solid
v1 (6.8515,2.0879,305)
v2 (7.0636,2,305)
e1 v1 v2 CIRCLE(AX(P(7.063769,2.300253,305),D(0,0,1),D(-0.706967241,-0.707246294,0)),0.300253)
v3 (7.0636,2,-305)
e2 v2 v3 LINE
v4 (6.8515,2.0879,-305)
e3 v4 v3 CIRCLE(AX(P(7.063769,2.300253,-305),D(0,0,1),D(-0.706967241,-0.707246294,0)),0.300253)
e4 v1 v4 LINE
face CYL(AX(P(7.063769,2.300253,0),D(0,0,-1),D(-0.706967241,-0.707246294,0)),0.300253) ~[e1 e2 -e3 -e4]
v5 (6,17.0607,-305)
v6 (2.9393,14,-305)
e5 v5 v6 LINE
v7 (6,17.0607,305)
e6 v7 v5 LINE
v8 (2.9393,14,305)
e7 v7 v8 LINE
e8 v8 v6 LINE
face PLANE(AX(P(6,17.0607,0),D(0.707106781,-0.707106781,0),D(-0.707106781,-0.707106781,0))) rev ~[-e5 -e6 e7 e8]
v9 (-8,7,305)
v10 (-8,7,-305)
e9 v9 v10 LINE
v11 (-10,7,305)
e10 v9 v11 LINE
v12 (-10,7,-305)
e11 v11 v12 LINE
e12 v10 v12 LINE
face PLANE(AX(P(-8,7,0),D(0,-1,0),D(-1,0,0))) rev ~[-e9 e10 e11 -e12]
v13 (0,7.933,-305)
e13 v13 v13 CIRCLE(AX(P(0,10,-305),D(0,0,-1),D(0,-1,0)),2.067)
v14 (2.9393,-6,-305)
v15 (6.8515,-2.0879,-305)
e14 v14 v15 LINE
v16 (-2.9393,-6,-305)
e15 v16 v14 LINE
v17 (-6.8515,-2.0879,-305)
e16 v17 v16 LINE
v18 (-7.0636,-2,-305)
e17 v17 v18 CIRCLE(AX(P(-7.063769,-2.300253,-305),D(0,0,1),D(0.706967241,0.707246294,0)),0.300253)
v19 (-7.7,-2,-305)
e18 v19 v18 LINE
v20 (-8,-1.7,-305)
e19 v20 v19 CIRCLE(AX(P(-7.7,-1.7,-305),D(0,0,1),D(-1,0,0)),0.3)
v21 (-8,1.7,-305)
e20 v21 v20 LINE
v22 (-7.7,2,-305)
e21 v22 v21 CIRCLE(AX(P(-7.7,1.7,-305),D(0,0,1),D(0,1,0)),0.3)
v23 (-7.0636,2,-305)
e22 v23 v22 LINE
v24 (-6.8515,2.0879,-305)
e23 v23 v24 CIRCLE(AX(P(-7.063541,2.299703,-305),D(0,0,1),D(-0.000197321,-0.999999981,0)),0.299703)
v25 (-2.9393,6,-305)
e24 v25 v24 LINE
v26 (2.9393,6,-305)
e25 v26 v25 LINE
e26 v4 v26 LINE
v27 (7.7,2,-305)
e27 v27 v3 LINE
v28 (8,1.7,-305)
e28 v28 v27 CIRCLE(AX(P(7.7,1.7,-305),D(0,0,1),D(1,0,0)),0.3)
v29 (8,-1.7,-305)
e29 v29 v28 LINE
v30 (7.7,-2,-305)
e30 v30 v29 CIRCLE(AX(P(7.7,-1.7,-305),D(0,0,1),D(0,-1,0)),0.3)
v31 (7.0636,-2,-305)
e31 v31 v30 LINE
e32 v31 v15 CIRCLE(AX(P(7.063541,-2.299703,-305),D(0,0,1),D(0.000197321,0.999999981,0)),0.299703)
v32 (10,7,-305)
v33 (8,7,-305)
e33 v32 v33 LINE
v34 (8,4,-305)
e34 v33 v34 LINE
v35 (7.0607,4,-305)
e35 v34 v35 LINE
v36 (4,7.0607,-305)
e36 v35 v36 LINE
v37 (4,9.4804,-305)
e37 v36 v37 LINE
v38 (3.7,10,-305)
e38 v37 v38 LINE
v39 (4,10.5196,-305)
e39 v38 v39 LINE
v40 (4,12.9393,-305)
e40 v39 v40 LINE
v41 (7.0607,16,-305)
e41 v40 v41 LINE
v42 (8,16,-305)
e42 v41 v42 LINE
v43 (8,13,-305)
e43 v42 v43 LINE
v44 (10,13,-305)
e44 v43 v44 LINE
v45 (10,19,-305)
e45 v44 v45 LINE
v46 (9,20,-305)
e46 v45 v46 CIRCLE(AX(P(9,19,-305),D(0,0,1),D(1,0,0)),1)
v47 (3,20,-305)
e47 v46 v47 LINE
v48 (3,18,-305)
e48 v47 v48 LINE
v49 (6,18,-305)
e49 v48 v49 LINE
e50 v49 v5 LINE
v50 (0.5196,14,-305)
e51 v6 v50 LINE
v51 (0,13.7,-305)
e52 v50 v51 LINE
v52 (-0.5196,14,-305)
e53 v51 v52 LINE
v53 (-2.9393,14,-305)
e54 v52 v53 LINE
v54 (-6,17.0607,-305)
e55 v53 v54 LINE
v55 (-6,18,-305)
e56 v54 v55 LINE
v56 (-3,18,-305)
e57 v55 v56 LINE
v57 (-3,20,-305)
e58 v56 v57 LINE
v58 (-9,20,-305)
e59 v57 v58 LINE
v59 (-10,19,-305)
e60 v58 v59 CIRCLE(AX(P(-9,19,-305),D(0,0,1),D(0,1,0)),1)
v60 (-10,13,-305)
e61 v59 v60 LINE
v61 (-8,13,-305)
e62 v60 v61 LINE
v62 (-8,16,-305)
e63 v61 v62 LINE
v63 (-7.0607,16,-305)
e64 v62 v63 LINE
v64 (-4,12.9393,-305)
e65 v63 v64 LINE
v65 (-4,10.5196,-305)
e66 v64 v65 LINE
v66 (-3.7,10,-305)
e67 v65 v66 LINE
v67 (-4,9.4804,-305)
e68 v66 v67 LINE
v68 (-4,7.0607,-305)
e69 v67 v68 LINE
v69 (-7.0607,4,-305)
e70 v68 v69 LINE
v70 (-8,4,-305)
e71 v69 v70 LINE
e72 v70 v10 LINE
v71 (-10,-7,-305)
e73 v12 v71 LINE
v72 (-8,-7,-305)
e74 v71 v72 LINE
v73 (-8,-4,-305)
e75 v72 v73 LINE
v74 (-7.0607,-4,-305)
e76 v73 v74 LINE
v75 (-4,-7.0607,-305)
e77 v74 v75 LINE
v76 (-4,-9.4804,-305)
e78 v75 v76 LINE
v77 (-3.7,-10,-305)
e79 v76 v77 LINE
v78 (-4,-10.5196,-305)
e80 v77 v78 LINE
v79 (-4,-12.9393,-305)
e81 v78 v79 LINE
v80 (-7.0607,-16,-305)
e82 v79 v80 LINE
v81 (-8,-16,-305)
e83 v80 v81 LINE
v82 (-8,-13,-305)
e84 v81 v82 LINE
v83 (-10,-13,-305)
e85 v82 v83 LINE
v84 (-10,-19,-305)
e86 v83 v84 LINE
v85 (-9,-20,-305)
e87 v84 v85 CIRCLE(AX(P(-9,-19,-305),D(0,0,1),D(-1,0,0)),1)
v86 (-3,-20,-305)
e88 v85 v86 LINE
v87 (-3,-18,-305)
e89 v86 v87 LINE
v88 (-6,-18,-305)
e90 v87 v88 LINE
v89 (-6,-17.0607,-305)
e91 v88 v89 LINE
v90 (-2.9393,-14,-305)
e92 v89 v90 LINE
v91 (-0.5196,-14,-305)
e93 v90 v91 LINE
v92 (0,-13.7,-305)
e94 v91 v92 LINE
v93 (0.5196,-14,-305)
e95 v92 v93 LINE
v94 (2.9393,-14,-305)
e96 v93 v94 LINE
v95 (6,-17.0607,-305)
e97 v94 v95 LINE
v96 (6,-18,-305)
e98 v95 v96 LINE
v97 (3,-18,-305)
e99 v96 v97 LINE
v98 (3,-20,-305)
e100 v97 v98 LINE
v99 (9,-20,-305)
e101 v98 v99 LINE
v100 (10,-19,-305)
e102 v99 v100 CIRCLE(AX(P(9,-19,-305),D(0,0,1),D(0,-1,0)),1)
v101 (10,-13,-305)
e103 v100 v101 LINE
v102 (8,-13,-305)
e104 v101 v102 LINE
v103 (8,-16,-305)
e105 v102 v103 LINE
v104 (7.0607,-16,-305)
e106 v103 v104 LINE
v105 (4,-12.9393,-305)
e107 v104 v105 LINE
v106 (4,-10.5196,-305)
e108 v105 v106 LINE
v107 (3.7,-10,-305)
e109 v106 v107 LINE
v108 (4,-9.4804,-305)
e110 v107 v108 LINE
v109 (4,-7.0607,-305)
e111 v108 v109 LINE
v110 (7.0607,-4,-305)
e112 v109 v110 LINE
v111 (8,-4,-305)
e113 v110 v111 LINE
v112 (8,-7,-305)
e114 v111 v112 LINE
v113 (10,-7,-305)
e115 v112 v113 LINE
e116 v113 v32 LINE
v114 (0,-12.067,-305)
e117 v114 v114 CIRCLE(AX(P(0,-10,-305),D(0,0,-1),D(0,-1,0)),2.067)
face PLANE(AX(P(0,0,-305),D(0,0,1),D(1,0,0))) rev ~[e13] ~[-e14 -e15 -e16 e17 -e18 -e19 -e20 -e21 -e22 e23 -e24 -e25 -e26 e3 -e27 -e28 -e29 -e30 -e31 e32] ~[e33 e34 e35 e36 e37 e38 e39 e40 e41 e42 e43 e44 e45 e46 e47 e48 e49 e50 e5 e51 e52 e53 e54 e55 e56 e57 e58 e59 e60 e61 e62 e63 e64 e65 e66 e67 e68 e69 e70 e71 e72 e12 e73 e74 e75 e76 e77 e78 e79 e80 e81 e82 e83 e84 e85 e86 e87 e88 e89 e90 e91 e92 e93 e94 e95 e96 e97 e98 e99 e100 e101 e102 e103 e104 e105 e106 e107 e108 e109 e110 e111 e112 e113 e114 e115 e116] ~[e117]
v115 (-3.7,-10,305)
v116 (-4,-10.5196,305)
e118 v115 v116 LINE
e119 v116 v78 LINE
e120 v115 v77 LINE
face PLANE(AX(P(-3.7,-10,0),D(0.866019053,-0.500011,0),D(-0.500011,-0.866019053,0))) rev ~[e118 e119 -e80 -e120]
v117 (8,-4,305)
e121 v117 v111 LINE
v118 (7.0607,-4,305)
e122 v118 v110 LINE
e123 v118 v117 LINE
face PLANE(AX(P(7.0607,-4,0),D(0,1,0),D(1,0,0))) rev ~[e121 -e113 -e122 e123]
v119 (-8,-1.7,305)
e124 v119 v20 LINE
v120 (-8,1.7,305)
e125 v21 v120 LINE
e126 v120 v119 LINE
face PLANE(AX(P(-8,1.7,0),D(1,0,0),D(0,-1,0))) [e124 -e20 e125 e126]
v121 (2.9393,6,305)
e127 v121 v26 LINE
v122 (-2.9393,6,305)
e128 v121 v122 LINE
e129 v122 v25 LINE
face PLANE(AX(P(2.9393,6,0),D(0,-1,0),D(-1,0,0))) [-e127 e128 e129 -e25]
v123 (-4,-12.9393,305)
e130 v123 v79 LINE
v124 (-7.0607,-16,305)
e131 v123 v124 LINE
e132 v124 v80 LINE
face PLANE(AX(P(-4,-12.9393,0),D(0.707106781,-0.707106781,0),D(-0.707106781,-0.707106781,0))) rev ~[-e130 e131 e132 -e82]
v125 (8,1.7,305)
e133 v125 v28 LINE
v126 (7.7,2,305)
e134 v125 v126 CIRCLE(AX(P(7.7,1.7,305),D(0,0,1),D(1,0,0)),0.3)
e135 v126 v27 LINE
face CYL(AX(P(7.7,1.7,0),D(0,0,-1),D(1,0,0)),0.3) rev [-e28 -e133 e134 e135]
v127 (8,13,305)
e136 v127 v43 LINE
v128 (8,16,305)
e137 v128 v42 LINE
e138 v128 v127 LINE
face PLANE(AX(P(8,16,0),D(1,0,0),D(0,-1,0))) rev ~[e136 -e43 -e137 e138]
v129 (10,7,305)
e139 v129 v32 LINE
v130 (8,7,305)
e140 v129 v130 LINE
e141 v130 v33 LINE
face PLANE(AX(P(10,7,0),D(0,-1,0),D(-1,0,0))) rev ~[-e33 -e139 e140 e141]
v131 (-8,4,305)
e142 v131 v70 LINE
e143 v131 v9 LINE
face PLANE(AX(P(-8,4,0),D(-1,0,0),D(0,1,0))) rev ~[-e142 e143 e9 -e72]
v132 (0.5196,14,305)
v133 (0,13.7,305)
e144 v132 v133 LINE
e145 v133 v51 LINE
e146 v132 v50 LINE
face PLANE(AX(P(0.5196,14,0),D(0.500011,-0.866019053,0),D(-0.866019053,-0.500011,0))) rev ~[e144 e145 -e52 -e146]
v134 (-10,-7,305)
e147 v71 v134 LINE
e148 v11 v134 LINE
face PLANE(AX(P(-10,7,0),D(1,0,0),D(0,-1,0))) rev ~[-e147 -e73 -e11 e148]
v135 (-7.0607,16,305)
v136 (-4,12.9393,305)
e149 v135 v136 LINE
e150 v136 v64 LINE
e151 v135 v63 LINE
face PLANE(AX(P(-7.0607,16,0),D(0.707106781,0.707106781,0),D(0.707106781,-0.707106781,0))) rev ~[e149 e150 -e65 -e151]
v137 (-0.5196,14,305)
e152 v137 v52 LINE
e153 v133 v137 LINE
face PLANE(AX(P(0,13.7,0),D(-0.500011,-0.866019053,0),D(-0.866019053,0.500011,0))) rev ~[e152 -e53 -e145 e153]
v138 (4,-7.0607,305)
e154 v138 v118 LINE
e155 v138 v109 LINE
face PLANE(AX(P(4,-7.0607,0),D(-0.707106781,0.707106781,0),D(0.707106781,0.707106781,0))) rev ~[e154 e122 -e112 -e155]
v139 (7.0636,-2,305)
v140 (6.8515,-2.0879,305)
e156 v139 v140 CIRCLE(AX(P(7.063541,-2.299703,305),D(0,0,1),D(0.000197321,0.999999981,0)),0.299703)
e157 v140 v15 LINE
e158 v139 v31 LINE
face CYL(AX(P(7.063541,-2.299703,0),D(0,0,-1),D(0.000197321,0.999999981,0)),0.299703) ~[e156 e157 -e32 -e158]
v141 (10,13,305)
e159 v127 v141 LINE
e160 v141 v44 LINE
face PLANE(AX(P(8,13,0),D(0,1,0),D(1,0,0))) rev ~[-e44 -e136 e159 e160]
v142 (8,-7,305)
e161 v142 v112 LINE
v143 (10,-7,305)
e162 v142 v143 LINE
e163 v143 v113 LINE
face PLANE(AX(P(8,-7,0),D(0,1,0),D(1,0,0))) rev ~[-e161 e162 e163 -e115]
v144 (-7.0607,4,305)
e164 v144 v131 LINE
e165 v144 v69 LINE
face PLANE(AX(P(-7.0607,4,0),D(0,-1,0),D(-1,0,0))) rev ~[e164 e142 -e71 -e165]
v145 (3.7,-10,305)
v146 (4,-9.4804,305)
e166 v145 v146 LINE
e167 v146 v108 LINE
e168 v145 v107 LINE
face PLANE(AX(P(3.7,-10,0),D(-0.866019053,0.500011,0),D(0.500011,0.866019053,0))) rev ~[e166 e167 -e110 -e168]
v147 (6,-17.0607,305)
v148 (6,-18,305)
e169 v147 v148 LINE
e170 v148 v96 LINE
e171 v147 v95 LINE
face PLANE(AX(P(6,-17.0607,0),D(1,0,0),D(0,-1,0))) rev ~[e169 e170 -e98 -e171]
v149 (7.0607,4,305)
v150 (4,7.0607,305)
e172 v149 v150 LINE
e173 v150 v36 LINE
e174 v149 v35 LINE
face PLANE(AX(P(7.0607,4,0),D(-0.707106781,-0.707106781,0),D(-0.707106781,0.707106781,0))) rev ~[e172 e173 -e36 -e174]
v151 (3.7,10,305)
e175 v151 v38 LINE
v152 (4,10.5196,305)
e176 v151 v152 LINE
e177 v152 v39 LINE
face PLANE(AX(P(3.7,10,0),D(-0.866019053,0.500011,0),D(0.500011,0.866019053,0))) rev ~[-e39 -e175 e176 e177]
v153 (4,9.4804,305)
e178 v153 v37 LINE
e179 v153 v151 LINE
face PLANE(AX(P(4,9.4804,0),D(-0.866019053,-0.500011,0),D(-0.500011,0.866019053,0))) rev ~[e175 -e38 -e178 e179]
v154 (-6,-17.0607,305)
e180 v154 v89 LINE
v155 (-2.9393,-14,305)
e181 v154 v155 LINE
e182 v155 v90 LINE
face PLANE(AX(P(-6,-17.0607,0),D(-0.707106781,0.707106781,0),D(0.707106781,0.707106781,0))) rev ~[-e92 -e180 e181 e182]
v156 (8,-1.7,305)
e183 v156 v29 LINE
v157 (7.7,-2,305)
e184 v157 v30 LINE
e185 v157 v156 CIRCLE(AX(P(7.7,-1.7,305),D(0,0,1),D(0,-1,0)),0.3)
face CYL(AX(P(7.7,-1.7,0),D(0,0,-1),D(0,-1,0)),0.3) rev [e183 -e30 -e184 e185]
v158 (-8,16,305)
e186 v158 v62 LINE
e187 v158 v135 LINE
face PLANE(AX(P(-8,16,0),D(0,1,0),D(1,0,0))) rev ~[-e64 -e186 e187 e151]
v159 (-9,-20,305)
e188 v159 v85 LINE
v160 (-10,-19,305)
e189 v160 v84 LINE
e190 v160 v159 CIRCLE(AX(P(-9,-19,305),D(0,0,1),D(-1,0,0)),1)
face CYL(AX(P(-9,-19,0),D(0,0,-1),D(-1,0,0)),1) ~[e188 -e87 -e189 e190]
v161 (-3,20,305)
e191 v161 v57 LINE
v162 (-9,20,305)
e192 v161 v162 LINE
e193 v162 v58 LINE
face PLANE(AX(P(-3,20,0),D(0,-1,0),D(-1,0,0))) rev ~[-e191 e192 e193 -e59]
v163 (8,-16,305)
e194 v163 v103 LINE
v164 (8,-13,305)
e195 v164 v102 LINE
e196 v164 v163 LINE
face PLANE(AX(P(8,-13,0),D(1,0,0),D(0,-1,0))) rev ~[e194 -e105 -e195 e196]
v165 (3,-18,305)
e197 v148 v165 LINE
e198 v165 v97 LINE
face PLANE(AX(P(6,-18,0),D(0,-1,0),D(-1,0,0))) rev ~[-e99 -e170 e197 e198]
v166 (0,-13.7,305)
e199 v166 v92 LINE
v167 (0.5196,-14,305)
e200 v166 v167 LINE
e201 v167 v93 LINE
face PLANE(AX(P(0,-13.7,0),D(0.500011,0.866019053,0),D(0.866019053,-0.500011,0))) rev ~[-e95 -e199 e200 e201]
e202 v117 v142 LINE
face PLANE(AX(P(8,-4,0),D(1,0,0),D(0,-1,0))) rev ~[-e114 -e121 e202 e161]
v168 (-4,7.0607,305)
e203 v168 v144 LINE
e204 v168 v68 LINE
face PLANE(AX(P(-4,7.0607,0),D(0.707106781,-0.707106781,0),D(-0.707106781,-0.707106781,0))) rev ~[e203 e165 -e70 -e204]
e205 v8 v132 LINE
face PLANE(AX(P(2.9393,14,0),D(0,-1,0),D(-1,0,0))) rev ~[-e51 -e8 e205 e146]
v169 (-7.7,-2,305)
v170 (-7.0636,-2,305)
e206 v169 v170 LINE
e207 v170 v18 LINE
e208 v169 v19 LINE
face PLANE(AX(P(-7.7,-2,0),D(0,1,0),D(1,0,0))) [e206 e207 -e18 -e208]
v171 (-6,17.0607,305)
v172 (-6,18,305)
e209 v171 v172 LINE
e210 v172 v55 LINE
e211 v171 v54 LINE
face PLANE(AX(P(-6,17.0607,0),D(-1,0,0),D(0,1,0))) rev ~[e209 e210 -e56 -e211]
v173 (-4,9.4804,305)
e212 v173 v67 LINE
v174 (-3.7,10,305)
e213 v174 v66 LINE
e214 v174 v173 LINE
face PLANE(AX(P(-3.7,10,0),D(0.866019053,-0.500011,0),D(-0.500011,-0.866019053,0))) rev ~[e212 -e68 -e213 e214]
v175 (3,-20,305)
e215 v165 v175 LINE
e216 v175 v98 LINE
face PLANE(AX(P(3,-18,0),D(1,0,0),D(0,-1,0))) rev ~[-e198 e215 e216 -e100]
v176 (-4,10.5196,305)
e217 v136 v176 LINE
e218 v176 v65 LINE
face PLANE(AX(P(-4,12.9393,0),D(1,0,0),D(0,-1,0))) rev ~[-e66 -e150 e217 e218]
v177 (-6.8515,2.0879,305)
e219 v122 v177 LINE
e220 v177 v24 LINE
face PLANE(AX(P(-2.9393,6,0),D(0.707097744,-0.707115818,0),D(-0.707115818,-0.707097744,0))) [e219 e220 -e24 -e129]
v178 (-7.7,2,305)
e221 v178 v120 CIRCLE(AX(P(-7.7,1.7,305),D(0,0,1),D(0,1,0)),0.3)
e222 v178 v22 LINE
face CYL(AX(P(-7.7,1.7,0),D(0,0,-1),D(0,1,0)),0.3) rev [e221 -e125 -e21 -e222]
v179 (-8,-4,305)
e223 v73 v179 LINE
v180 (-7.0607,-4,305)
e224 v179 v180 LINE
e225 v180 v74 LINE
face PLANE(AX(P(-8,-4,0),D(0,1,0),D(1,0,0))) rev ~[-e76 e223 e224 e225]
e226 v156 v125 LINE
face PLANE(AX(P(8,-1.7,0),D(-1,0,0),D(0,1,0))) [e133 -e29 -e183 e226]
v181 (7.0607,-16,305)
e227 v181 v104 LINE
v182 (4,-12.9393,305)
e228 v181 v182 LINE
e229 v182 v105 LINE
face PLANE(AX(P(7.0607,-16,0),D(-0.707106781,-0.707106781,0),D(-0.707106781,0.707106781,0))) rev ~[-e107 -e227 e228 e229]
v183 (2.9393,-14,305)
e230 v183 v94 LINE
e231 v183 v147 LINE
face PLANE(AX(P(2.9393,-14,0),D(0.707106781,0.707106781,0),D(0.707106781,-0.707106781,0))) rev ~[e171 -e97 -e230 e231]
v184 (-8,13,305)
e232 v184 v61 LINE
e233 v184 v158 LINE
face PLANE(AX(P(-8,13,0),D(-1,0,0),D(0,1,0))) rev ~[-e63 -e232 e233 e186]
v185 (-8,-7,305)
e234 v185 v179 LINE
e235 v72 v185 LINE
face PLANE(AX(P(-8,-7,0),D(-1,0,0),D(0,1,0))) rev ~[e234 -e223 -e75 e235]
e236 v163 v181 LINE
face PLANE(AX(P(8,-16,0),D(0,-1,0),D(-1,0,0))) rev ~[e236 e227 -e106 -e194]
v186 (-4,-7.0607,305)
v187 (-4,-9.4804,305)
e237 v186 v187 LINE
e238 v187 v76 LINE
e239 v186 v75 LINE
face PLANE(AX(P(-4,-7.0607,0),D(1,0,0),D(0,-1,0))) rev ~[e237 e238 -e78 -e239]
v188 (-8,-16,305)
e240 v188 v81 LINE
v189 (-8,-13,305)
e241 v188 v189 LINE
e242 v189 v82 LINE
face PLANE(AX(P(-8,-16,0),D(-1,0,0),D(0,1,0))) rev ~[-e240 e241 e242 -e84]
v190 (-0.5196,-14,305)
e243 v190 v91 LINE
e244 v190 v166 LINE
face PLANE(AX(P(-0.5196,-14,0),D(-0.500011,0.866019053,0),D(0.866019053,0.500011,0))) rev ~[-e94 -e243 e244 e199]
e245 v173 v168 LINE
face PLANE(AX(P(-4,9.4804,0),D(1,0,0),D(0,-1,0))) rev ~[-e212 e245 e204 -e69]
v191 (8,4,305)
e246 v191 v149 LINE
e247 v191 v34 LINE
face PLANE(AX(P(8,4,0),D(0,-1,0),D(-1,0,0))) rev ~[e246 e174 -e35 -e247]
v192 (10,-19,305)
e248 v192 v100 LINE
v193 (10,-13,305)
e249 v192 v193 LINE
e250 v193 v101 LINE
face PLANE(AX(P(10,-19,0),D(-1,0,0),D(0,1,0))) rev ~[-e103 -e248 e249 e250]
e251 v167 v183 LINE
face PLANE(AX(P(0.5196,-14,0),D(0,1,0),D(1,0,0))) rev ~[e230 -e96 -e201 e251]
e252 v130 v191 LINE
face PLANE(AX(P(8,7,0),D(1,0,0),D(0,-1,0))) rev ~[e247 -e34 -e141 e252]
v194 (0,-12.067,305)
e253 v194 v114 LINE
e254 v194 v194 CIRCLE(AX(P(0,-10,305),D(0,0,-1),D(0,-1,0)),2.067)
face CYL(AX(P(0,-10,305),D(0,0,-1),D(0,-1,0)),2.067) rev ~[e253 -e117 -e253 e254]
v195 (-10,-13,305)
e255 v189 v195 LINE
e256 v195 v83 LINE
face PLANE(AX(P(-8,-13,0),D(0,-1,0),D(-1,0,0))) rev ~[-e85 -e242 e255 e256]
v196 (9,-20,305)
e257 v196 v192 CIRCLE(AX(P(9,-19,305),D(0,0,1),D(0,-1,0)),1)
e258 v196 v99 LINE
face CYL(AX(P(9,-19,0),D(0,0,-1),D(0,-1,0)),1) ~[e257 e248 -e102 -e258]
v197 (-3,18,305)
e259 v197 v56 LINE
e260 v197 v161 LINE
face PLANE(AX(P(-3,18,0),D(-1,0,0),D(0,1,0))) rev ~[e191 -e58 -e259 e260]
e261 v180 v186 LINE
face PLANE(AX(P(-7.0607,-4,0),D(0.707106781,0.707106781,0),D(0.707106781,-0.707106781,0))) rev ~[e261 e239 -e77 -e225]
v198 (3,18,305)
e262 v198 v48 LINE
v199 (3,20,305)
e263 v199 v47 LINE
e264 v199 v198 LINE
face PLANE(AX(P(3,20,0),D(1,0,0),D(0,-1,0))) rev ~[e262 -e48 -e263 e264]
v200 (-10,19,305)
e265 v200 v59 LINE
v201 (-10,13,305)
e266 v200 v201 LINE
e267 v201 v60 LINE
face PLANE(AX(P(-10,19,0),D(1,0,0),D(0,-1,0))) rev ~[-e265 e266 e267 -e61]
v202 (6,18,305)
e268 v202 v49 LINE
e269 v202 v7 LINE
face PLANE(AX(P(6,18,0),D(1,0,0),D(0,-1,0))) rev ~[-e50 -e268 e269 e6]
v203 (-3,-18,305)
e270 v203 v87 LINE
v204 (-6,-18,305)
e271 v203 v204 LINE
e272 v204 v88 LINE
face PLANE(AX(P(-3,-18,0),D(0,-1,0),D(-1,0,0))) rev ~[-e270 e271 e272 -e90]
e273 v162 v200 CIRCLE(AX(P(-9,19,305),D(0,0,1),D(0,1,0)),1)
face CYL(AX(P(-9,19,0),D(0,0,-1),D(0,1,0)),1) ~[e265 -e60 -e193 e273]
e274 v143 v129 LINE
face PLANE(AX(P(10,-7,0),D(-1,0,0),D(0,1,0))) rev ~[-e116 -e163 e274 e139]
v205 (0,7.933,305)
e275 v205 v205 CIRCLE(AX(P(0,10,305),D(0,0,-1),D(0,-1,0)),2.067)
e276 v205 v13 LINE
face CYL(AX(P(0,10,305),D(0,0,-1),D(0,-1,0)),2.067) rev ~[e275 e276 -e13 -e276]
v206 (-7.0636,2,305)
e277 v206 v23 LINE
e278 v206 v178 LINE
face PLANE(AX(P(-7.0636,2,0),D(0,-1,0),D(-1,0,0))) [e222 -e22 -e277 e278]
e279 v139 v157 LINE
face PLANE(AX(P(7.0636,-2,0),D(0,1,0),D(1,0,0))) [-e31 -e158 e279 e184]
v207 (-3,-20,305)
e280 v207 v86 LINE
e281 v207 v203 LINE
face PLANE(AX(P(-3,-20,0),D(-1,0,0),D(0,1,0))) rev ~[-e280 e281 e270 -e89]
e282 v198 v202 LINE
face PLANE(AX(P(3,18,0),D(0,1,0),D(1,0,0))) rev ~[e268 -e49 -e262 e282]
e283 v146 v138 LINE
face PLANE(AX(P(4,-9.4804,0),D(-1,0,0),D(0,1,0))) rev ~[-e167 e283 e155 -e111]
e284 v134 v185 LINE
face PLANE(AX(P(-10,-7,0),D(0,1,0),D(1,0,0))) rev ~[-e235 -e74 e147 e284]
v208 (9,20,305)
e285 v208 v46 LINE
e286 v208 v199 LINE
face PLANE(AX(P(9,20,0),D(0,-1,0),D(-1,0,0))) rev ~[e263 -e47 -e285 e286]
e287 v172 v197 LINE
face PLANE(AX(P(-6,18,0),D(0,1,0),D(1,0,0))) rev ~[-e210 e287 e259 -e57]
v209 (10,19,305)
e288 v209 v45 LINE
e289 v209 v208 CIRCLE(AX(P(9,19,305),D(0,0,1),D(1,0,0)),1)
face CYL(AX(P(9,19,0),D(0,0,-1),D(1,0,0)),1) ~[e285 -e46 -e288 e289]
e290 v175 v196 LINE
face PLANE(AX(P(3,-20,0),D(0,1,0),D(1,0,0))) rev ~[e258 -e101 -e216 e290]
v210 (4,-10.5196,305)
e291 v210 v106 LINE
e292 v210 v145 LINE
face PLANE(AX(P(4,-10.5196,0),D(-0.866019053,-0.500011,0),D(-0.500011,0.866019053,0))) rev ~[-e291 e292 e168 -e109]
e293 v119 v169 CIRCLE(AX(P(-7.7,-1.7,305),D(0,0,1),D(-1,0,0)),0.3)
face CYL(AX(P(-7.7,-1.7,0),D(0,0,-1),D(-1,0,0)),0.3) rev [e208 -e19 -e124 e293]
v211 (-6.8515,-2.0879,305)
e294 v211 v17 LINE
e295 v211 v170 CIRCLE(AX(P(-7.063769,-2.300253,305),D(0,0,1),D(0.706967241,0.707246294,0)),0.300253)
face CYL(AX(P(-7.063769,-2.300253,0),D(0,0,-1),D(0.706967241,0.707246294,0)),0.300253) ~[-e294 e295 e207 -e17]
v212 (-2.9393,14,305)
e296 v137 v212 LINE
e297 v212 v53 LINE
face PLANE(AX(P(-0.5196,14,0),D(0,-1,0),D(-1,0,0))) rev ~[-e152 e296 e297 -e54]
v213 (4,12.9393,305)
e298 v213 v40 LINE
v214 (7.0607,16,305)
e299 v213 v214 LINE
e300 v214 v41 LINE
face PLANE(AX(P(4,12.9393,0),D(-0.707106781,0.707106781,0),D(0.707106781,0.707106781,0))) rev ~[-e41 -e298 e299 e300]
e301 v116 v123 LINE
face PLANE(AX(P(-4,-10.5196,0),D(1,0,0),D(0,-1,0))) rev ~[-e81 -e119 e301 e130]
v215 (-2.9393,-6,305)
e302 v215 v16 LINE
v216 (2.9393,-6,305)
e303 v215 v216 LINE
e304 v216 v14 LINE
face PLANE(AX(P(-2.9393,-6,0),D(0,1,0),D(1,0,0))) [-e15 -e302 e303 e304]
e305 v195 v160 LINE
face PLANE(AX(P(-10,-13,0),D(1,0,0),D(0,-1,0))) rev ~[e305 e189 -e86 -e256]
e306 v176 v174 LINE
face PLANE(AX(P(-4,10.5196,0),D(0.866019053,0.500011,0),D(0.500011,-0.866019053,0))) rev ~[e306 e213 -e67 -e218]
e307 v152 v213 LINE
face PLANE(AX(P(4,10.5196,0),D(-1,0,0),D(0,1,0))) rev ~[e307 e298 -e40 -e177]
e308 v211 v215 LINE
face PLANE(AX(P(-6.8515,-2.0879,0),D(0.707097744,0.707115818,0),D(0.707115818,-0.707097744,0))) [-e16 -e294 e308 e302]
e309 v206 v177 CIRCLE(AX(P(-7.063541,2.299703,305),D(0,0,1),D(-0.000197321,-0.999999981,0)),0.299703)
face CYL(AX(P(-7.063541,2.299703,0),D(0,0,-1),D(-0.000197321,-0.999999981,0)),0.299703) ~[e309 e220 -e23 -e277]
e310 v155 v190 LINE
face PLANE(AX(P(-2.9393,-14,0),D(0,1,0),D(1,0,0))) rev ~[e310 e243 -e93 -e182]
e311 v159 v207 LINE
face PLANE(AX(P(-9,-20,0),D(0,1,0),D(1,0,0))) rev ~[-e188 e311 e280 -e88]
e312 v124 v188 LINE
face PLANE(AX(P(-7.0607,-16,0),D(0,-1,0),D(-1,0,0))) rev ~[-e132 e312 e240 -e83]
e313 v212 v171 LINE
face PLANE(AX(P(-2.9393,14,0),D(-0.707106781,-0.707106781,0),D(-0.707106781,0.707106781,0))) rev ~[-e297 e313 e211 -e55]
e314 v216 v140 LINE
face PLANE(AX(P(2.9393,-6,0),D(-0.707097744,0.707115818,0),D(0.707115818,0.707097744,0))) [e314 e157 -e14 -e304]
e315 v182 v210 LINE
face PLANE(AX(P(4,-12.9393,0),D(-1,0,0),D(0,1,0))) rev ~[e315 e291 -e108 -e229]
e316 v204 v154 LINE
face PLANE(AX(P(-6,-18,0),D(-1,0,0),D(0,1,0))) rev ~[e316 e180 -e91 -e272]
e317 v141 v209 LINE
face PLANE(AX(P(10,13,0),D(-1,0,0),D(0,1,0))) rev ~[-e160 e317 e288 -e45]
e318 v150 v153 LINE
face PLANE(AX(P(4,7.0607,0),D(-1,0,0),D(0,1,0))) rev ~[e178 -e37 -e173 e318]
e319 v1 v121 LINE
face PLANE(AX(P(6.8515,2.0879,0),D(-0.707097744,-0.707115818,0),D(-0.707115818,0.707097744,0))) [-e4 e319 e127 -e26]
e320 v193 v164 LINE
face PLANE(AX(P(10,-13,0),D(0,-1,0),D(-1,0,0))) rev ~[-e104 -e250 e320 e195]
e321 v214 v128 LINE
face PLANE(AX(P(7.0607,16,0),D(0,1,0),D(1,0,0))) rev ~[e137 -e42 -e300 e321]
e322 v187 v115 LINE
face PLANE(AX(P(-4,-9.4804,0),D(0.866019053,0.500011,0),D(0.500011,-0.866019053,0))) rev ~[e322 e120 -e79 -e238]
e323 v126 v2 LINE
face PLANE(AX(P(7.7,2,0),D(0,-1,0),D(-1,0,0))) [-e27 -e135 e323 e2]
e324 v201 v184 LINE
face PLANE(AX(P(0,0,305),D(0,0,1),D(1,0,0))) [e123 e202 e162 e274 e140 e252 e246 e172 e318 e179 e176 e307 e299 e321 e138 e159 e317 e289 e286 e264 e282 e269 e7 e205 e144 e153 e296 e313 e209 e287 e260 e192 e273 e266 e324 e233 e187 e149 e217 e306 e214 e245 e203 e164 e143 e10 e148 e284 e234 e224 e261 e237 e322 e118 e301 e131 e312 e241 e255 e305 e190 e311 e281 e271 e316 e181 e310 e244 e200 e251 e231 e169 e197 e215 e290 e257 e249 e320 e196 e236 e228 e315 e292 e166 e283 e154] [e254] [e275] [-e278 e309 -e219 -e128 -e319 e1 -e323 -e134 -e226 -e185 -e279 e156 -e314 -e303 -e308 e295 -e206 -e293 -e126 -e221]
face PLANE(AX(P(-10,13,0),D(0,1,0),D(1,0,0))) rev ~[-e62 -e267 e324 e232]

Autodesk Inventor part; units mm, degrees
sketch "Sketch_1" plane through (0, 0, 0) normal (0, 0, 1) x (1, 0, 0)
  line L0 (-10, -7) -> (-8, -7)
  line L1 (-8, -7) -> (-8, -4)
  line L2 (-8, -4) -> (-7.0607, -4)
  line L3 (-7.0607, -4) -> (-4, -7.0607)
  line L4 (-4, -7.0607) -> (-4, -9.4804)
  line L5 (-4, -9.4804) -> (-3.7, -10)
  line L6 (-3.7, -10) -> (-4, -10.5196)
  line L7 (-4, -10.5196) -> (-4, -12.9393)
  line L8 (-4, -12.9393) -> (-7.0607, -16)
  line L9 (-7.0607, -16) -> (-8, -16)
  line L10 (-8, -16) -> (-8, -13)
  line L11 (-8, -13) -> (-10, -13)
  line L12 (-10, -13) -> (-10, -19)
  arc A0 (-10, -19) -> (-9, -20) centre (-9, -19) ccw
  line L13 (-9, -20) -> (-3, -20)
  line L14 (-3, -20) -> (-3, -18)
  line L15 (-3, -18) -> (-6, -18)
  line L16 (-6, -18) -> (-6, -17.0607)
  line L17 (-6, -17.0607) -> (-2.9393, -14)
  line L18 (-2.9393, -14) -> (-0.5196, -14)
  line L19 (-0.5196, -14) -> (0, -13.7)
  line L20 (0, -13.7) -> (0.5196, -14)
  line L21 (0.5196, -14) -> (2.9393, -14)
  line L22 (2.9393, -14) -> (6, -17.0607)
  line L23 (6, -17.0607) -> (6, -18)
  line L24 (6, -18) -> (3, -18)
  line L25 (3, -18) -> (3, -20)
  line L26 (3, -20) -> (9, -20)
  arc A1 (9, -20) -> (10, -19) centre (9, -19) ccw
  line L27 (10, -19) -> (10, -13)
  line L28 (10, -13) -> (8, -13)
  line L29 (8, -13) -> (8, -16)
  line L30 (8, -16) -> (7.0607, -16)
  line L31 (7.0607, -16) -> (4, -12.9393)
  line L32 (4, -12.9393) -> (4, -10.5196)
  line L33 (4, -10.5196) -> (3.7, -10)
  line L34 (3.7, -10) -> (4, -9.4804)
  line L35 (4, -9.4804) -> (4, -7.0607)
  line L36 (4, -7.0607) -> (7.0607, -4)
  line L37 (7.0607, -4) -> (8, -4)
  line L38 (8, -4) -> (8, -7)
  line L39 (8, -7) -> (10, -7)
  line L40 (10, -7) -> (10, 7)
  line L41 (10, 7) -> (8, 7)
  line L42 (8, 7) -> (8, 4)
  line L43 (8, 4) -> (7.0607, 4)
  line L44 (7.0607, 4) -> (4, 7.0607)
  line L45 (4, 7.0607) -> (4, 9.4804)
  line L46 (4, 9.4804) -> (3.7, 10)
  line L47 (3.7, 10) -> (4, 10.5196)
  line L48 (4, 10.5196) -> (4, 12.9393)
  line L49 (4, 12.9393) -> (7.0607, 16)
  line L50 (7.0607, 16) -> (8, 16)
  line L51 (8, 16) -> (8, 13)
  line L52 (8, 13) -> (10, 13)
  line L53 (10, 13) -> (10, 19)
  arc A2 (10, 19) -> (9, 20) centre (9, 19) ccw
  line L54 (9, 20) -> (3, 20)
  line L55 (3, 20) -> (3, 18)
  line L56 (3, 18) -> (6, 18)
  line L57 (6, 18) -> (6, 17.0607)
  line L58 (6, 17.0607) -> (2.9393, 14)
  line L59 (2.9393, 14) -> (0.5196, 14)
  line L60 (0.5196, 14) -> (0, 13.7)
  line L61 (0, 13.7) -> (-0.5196, 14)
  line L62 (-0.5196, 14) -> (-2.9393, 14)
  line L63 (-2.9393, 14) -> (-6, 17.0607)
  line L64 (-6, 17.0607) -> (-6, 18)
  line L65 (-6, 18) -> (-3, 18)
  line L66 (-3, 18) -> (-3, 20)
  line L67 (-3, 20) -> (-9, 20)
  arc A3 (-9, 20) -> (-10, 19) centre (-9, 19) ccw
  line L68 (-10, 19) -> (-10, 13)
  line L69 (-10, 13) -> (-8, 13)
  line L70 (-8, 13) -> (-8, 16)
  line L71 (-8, 16) -> (-7.0607, 16)
  line L72 (-7.0607, 16) -> (-4, 12.9393)
  line L73 (-4, 12.9393) -> (-4, 10.5196)
  line L74 (-4, 10.5196) -> (-3.7, 10)
  line L75 (-3.7, 10) -> (-4, 9.4804)
  line L76 (-4, 9.4804) -> (-4, 7.0607)
  line L77 (-4, 7.0607) -> (-7.0607, 4)
  line L78 (-7.0607, 4) -> (-8, 4)
  line L79 (-8, 4) -> (-8, 7)
  line L80 (-8, 7) -> (-10, 7)
  line L81 (-10, 7) -> (-10, -7)
  line L82 (-8, 1.7) -> (-8, -1.7)
  arc A4 (-8, -1.7) -> (-7.7, -2) centre (-7.7, -1.7) ccw
  line L83 (-7.7, -2) -> (-7.0636, -2)
  arc A5 (-6.8515, -2.0879) -> (-7.0636, -2) centre (-7.0636, -2.3) ccw
  line L84 (-6.8515, -2.0879) -> (-2.9393, -6)
  line L85 (-2.9393, -6) -> (2.9393, -6)
  line L86 (2.9393, -6) -> (6.8515, -2.0879)
  arc A6 (7.0636, -2) -> (6.8515, -2.0879) centre (7.0636, -2.3) ccw
  line L87 (7.0636, -2) -> (7.7, -2)
  arc A7 (7.7, -2) -> (8, -1.7) centre (7.7, -1.7) ccw
  line L88 (8, -1.7) -> (8, 1.7)
  arc A8 (8, 1.7) -> (7.7, 2) centre (7.7, 1.7) ccw
  line L89 (7.7, 2) -> (7.0636, 2)
  arc A9 (6.8515, 2.0879) -> (7.0636, 2) centre (7.0636, 2.3) ccw
  line L90 (6.8515, 2.0879) -> (2.9393, 6)
  line L91 (2.9393, 6) -> (-2.9393, 6)
  line L92 (-2.9393, 6) -> (-6.8515, 2.0879)
  arc A10 (-7.0636, 2) -> (-6.8515, 2.0879) centre (-7.0636, 2.3) ccw
  line L93 (-7.0636, 2) -> (-7.7, 2)
  arc A11 (-7.7, 2) -> (-8, 1.7) centre (-7.7, 1.7) ccw
extrude "Extrusion1" add sketch "Sketch_1" along normal mid plane 610
sketch "Sketch2" plane through (0, 0, 305) normal (0, 0, 1) x (-1, 0, 0)
  point P0 (0, 10)
hole "Hole1" at (0, -10, 305) direction (0, 0, -1) diameter 4.134 end through all thread size "M5x0.8" class "6H" standard "ANSI Metric M Profile"
pattern_linear "Rectangular Pattern1" count 2 spacing 20 along (0, 1, 0) of "Hole1"
ref_plane "C1_XY" through (0, 0, 0) normal (0, 0, 1) x (1, 0, 0)
ref_plane "C1_YZ" through (0, 0, 0) normal (1, 0, 0) x (0, 1, 0)
ref_plane "C1_ZX" through (0, 0, 0) normal (0, 1, 0) x (0, 0, 1)
mirror "Mirror1" about plane through (0, 0, 0) normal (0, 0, 1) of "Hole1", "Rectangular Pattern1"
properties part number "2040 Rear Left Riser" material "Aluminum 6061"
